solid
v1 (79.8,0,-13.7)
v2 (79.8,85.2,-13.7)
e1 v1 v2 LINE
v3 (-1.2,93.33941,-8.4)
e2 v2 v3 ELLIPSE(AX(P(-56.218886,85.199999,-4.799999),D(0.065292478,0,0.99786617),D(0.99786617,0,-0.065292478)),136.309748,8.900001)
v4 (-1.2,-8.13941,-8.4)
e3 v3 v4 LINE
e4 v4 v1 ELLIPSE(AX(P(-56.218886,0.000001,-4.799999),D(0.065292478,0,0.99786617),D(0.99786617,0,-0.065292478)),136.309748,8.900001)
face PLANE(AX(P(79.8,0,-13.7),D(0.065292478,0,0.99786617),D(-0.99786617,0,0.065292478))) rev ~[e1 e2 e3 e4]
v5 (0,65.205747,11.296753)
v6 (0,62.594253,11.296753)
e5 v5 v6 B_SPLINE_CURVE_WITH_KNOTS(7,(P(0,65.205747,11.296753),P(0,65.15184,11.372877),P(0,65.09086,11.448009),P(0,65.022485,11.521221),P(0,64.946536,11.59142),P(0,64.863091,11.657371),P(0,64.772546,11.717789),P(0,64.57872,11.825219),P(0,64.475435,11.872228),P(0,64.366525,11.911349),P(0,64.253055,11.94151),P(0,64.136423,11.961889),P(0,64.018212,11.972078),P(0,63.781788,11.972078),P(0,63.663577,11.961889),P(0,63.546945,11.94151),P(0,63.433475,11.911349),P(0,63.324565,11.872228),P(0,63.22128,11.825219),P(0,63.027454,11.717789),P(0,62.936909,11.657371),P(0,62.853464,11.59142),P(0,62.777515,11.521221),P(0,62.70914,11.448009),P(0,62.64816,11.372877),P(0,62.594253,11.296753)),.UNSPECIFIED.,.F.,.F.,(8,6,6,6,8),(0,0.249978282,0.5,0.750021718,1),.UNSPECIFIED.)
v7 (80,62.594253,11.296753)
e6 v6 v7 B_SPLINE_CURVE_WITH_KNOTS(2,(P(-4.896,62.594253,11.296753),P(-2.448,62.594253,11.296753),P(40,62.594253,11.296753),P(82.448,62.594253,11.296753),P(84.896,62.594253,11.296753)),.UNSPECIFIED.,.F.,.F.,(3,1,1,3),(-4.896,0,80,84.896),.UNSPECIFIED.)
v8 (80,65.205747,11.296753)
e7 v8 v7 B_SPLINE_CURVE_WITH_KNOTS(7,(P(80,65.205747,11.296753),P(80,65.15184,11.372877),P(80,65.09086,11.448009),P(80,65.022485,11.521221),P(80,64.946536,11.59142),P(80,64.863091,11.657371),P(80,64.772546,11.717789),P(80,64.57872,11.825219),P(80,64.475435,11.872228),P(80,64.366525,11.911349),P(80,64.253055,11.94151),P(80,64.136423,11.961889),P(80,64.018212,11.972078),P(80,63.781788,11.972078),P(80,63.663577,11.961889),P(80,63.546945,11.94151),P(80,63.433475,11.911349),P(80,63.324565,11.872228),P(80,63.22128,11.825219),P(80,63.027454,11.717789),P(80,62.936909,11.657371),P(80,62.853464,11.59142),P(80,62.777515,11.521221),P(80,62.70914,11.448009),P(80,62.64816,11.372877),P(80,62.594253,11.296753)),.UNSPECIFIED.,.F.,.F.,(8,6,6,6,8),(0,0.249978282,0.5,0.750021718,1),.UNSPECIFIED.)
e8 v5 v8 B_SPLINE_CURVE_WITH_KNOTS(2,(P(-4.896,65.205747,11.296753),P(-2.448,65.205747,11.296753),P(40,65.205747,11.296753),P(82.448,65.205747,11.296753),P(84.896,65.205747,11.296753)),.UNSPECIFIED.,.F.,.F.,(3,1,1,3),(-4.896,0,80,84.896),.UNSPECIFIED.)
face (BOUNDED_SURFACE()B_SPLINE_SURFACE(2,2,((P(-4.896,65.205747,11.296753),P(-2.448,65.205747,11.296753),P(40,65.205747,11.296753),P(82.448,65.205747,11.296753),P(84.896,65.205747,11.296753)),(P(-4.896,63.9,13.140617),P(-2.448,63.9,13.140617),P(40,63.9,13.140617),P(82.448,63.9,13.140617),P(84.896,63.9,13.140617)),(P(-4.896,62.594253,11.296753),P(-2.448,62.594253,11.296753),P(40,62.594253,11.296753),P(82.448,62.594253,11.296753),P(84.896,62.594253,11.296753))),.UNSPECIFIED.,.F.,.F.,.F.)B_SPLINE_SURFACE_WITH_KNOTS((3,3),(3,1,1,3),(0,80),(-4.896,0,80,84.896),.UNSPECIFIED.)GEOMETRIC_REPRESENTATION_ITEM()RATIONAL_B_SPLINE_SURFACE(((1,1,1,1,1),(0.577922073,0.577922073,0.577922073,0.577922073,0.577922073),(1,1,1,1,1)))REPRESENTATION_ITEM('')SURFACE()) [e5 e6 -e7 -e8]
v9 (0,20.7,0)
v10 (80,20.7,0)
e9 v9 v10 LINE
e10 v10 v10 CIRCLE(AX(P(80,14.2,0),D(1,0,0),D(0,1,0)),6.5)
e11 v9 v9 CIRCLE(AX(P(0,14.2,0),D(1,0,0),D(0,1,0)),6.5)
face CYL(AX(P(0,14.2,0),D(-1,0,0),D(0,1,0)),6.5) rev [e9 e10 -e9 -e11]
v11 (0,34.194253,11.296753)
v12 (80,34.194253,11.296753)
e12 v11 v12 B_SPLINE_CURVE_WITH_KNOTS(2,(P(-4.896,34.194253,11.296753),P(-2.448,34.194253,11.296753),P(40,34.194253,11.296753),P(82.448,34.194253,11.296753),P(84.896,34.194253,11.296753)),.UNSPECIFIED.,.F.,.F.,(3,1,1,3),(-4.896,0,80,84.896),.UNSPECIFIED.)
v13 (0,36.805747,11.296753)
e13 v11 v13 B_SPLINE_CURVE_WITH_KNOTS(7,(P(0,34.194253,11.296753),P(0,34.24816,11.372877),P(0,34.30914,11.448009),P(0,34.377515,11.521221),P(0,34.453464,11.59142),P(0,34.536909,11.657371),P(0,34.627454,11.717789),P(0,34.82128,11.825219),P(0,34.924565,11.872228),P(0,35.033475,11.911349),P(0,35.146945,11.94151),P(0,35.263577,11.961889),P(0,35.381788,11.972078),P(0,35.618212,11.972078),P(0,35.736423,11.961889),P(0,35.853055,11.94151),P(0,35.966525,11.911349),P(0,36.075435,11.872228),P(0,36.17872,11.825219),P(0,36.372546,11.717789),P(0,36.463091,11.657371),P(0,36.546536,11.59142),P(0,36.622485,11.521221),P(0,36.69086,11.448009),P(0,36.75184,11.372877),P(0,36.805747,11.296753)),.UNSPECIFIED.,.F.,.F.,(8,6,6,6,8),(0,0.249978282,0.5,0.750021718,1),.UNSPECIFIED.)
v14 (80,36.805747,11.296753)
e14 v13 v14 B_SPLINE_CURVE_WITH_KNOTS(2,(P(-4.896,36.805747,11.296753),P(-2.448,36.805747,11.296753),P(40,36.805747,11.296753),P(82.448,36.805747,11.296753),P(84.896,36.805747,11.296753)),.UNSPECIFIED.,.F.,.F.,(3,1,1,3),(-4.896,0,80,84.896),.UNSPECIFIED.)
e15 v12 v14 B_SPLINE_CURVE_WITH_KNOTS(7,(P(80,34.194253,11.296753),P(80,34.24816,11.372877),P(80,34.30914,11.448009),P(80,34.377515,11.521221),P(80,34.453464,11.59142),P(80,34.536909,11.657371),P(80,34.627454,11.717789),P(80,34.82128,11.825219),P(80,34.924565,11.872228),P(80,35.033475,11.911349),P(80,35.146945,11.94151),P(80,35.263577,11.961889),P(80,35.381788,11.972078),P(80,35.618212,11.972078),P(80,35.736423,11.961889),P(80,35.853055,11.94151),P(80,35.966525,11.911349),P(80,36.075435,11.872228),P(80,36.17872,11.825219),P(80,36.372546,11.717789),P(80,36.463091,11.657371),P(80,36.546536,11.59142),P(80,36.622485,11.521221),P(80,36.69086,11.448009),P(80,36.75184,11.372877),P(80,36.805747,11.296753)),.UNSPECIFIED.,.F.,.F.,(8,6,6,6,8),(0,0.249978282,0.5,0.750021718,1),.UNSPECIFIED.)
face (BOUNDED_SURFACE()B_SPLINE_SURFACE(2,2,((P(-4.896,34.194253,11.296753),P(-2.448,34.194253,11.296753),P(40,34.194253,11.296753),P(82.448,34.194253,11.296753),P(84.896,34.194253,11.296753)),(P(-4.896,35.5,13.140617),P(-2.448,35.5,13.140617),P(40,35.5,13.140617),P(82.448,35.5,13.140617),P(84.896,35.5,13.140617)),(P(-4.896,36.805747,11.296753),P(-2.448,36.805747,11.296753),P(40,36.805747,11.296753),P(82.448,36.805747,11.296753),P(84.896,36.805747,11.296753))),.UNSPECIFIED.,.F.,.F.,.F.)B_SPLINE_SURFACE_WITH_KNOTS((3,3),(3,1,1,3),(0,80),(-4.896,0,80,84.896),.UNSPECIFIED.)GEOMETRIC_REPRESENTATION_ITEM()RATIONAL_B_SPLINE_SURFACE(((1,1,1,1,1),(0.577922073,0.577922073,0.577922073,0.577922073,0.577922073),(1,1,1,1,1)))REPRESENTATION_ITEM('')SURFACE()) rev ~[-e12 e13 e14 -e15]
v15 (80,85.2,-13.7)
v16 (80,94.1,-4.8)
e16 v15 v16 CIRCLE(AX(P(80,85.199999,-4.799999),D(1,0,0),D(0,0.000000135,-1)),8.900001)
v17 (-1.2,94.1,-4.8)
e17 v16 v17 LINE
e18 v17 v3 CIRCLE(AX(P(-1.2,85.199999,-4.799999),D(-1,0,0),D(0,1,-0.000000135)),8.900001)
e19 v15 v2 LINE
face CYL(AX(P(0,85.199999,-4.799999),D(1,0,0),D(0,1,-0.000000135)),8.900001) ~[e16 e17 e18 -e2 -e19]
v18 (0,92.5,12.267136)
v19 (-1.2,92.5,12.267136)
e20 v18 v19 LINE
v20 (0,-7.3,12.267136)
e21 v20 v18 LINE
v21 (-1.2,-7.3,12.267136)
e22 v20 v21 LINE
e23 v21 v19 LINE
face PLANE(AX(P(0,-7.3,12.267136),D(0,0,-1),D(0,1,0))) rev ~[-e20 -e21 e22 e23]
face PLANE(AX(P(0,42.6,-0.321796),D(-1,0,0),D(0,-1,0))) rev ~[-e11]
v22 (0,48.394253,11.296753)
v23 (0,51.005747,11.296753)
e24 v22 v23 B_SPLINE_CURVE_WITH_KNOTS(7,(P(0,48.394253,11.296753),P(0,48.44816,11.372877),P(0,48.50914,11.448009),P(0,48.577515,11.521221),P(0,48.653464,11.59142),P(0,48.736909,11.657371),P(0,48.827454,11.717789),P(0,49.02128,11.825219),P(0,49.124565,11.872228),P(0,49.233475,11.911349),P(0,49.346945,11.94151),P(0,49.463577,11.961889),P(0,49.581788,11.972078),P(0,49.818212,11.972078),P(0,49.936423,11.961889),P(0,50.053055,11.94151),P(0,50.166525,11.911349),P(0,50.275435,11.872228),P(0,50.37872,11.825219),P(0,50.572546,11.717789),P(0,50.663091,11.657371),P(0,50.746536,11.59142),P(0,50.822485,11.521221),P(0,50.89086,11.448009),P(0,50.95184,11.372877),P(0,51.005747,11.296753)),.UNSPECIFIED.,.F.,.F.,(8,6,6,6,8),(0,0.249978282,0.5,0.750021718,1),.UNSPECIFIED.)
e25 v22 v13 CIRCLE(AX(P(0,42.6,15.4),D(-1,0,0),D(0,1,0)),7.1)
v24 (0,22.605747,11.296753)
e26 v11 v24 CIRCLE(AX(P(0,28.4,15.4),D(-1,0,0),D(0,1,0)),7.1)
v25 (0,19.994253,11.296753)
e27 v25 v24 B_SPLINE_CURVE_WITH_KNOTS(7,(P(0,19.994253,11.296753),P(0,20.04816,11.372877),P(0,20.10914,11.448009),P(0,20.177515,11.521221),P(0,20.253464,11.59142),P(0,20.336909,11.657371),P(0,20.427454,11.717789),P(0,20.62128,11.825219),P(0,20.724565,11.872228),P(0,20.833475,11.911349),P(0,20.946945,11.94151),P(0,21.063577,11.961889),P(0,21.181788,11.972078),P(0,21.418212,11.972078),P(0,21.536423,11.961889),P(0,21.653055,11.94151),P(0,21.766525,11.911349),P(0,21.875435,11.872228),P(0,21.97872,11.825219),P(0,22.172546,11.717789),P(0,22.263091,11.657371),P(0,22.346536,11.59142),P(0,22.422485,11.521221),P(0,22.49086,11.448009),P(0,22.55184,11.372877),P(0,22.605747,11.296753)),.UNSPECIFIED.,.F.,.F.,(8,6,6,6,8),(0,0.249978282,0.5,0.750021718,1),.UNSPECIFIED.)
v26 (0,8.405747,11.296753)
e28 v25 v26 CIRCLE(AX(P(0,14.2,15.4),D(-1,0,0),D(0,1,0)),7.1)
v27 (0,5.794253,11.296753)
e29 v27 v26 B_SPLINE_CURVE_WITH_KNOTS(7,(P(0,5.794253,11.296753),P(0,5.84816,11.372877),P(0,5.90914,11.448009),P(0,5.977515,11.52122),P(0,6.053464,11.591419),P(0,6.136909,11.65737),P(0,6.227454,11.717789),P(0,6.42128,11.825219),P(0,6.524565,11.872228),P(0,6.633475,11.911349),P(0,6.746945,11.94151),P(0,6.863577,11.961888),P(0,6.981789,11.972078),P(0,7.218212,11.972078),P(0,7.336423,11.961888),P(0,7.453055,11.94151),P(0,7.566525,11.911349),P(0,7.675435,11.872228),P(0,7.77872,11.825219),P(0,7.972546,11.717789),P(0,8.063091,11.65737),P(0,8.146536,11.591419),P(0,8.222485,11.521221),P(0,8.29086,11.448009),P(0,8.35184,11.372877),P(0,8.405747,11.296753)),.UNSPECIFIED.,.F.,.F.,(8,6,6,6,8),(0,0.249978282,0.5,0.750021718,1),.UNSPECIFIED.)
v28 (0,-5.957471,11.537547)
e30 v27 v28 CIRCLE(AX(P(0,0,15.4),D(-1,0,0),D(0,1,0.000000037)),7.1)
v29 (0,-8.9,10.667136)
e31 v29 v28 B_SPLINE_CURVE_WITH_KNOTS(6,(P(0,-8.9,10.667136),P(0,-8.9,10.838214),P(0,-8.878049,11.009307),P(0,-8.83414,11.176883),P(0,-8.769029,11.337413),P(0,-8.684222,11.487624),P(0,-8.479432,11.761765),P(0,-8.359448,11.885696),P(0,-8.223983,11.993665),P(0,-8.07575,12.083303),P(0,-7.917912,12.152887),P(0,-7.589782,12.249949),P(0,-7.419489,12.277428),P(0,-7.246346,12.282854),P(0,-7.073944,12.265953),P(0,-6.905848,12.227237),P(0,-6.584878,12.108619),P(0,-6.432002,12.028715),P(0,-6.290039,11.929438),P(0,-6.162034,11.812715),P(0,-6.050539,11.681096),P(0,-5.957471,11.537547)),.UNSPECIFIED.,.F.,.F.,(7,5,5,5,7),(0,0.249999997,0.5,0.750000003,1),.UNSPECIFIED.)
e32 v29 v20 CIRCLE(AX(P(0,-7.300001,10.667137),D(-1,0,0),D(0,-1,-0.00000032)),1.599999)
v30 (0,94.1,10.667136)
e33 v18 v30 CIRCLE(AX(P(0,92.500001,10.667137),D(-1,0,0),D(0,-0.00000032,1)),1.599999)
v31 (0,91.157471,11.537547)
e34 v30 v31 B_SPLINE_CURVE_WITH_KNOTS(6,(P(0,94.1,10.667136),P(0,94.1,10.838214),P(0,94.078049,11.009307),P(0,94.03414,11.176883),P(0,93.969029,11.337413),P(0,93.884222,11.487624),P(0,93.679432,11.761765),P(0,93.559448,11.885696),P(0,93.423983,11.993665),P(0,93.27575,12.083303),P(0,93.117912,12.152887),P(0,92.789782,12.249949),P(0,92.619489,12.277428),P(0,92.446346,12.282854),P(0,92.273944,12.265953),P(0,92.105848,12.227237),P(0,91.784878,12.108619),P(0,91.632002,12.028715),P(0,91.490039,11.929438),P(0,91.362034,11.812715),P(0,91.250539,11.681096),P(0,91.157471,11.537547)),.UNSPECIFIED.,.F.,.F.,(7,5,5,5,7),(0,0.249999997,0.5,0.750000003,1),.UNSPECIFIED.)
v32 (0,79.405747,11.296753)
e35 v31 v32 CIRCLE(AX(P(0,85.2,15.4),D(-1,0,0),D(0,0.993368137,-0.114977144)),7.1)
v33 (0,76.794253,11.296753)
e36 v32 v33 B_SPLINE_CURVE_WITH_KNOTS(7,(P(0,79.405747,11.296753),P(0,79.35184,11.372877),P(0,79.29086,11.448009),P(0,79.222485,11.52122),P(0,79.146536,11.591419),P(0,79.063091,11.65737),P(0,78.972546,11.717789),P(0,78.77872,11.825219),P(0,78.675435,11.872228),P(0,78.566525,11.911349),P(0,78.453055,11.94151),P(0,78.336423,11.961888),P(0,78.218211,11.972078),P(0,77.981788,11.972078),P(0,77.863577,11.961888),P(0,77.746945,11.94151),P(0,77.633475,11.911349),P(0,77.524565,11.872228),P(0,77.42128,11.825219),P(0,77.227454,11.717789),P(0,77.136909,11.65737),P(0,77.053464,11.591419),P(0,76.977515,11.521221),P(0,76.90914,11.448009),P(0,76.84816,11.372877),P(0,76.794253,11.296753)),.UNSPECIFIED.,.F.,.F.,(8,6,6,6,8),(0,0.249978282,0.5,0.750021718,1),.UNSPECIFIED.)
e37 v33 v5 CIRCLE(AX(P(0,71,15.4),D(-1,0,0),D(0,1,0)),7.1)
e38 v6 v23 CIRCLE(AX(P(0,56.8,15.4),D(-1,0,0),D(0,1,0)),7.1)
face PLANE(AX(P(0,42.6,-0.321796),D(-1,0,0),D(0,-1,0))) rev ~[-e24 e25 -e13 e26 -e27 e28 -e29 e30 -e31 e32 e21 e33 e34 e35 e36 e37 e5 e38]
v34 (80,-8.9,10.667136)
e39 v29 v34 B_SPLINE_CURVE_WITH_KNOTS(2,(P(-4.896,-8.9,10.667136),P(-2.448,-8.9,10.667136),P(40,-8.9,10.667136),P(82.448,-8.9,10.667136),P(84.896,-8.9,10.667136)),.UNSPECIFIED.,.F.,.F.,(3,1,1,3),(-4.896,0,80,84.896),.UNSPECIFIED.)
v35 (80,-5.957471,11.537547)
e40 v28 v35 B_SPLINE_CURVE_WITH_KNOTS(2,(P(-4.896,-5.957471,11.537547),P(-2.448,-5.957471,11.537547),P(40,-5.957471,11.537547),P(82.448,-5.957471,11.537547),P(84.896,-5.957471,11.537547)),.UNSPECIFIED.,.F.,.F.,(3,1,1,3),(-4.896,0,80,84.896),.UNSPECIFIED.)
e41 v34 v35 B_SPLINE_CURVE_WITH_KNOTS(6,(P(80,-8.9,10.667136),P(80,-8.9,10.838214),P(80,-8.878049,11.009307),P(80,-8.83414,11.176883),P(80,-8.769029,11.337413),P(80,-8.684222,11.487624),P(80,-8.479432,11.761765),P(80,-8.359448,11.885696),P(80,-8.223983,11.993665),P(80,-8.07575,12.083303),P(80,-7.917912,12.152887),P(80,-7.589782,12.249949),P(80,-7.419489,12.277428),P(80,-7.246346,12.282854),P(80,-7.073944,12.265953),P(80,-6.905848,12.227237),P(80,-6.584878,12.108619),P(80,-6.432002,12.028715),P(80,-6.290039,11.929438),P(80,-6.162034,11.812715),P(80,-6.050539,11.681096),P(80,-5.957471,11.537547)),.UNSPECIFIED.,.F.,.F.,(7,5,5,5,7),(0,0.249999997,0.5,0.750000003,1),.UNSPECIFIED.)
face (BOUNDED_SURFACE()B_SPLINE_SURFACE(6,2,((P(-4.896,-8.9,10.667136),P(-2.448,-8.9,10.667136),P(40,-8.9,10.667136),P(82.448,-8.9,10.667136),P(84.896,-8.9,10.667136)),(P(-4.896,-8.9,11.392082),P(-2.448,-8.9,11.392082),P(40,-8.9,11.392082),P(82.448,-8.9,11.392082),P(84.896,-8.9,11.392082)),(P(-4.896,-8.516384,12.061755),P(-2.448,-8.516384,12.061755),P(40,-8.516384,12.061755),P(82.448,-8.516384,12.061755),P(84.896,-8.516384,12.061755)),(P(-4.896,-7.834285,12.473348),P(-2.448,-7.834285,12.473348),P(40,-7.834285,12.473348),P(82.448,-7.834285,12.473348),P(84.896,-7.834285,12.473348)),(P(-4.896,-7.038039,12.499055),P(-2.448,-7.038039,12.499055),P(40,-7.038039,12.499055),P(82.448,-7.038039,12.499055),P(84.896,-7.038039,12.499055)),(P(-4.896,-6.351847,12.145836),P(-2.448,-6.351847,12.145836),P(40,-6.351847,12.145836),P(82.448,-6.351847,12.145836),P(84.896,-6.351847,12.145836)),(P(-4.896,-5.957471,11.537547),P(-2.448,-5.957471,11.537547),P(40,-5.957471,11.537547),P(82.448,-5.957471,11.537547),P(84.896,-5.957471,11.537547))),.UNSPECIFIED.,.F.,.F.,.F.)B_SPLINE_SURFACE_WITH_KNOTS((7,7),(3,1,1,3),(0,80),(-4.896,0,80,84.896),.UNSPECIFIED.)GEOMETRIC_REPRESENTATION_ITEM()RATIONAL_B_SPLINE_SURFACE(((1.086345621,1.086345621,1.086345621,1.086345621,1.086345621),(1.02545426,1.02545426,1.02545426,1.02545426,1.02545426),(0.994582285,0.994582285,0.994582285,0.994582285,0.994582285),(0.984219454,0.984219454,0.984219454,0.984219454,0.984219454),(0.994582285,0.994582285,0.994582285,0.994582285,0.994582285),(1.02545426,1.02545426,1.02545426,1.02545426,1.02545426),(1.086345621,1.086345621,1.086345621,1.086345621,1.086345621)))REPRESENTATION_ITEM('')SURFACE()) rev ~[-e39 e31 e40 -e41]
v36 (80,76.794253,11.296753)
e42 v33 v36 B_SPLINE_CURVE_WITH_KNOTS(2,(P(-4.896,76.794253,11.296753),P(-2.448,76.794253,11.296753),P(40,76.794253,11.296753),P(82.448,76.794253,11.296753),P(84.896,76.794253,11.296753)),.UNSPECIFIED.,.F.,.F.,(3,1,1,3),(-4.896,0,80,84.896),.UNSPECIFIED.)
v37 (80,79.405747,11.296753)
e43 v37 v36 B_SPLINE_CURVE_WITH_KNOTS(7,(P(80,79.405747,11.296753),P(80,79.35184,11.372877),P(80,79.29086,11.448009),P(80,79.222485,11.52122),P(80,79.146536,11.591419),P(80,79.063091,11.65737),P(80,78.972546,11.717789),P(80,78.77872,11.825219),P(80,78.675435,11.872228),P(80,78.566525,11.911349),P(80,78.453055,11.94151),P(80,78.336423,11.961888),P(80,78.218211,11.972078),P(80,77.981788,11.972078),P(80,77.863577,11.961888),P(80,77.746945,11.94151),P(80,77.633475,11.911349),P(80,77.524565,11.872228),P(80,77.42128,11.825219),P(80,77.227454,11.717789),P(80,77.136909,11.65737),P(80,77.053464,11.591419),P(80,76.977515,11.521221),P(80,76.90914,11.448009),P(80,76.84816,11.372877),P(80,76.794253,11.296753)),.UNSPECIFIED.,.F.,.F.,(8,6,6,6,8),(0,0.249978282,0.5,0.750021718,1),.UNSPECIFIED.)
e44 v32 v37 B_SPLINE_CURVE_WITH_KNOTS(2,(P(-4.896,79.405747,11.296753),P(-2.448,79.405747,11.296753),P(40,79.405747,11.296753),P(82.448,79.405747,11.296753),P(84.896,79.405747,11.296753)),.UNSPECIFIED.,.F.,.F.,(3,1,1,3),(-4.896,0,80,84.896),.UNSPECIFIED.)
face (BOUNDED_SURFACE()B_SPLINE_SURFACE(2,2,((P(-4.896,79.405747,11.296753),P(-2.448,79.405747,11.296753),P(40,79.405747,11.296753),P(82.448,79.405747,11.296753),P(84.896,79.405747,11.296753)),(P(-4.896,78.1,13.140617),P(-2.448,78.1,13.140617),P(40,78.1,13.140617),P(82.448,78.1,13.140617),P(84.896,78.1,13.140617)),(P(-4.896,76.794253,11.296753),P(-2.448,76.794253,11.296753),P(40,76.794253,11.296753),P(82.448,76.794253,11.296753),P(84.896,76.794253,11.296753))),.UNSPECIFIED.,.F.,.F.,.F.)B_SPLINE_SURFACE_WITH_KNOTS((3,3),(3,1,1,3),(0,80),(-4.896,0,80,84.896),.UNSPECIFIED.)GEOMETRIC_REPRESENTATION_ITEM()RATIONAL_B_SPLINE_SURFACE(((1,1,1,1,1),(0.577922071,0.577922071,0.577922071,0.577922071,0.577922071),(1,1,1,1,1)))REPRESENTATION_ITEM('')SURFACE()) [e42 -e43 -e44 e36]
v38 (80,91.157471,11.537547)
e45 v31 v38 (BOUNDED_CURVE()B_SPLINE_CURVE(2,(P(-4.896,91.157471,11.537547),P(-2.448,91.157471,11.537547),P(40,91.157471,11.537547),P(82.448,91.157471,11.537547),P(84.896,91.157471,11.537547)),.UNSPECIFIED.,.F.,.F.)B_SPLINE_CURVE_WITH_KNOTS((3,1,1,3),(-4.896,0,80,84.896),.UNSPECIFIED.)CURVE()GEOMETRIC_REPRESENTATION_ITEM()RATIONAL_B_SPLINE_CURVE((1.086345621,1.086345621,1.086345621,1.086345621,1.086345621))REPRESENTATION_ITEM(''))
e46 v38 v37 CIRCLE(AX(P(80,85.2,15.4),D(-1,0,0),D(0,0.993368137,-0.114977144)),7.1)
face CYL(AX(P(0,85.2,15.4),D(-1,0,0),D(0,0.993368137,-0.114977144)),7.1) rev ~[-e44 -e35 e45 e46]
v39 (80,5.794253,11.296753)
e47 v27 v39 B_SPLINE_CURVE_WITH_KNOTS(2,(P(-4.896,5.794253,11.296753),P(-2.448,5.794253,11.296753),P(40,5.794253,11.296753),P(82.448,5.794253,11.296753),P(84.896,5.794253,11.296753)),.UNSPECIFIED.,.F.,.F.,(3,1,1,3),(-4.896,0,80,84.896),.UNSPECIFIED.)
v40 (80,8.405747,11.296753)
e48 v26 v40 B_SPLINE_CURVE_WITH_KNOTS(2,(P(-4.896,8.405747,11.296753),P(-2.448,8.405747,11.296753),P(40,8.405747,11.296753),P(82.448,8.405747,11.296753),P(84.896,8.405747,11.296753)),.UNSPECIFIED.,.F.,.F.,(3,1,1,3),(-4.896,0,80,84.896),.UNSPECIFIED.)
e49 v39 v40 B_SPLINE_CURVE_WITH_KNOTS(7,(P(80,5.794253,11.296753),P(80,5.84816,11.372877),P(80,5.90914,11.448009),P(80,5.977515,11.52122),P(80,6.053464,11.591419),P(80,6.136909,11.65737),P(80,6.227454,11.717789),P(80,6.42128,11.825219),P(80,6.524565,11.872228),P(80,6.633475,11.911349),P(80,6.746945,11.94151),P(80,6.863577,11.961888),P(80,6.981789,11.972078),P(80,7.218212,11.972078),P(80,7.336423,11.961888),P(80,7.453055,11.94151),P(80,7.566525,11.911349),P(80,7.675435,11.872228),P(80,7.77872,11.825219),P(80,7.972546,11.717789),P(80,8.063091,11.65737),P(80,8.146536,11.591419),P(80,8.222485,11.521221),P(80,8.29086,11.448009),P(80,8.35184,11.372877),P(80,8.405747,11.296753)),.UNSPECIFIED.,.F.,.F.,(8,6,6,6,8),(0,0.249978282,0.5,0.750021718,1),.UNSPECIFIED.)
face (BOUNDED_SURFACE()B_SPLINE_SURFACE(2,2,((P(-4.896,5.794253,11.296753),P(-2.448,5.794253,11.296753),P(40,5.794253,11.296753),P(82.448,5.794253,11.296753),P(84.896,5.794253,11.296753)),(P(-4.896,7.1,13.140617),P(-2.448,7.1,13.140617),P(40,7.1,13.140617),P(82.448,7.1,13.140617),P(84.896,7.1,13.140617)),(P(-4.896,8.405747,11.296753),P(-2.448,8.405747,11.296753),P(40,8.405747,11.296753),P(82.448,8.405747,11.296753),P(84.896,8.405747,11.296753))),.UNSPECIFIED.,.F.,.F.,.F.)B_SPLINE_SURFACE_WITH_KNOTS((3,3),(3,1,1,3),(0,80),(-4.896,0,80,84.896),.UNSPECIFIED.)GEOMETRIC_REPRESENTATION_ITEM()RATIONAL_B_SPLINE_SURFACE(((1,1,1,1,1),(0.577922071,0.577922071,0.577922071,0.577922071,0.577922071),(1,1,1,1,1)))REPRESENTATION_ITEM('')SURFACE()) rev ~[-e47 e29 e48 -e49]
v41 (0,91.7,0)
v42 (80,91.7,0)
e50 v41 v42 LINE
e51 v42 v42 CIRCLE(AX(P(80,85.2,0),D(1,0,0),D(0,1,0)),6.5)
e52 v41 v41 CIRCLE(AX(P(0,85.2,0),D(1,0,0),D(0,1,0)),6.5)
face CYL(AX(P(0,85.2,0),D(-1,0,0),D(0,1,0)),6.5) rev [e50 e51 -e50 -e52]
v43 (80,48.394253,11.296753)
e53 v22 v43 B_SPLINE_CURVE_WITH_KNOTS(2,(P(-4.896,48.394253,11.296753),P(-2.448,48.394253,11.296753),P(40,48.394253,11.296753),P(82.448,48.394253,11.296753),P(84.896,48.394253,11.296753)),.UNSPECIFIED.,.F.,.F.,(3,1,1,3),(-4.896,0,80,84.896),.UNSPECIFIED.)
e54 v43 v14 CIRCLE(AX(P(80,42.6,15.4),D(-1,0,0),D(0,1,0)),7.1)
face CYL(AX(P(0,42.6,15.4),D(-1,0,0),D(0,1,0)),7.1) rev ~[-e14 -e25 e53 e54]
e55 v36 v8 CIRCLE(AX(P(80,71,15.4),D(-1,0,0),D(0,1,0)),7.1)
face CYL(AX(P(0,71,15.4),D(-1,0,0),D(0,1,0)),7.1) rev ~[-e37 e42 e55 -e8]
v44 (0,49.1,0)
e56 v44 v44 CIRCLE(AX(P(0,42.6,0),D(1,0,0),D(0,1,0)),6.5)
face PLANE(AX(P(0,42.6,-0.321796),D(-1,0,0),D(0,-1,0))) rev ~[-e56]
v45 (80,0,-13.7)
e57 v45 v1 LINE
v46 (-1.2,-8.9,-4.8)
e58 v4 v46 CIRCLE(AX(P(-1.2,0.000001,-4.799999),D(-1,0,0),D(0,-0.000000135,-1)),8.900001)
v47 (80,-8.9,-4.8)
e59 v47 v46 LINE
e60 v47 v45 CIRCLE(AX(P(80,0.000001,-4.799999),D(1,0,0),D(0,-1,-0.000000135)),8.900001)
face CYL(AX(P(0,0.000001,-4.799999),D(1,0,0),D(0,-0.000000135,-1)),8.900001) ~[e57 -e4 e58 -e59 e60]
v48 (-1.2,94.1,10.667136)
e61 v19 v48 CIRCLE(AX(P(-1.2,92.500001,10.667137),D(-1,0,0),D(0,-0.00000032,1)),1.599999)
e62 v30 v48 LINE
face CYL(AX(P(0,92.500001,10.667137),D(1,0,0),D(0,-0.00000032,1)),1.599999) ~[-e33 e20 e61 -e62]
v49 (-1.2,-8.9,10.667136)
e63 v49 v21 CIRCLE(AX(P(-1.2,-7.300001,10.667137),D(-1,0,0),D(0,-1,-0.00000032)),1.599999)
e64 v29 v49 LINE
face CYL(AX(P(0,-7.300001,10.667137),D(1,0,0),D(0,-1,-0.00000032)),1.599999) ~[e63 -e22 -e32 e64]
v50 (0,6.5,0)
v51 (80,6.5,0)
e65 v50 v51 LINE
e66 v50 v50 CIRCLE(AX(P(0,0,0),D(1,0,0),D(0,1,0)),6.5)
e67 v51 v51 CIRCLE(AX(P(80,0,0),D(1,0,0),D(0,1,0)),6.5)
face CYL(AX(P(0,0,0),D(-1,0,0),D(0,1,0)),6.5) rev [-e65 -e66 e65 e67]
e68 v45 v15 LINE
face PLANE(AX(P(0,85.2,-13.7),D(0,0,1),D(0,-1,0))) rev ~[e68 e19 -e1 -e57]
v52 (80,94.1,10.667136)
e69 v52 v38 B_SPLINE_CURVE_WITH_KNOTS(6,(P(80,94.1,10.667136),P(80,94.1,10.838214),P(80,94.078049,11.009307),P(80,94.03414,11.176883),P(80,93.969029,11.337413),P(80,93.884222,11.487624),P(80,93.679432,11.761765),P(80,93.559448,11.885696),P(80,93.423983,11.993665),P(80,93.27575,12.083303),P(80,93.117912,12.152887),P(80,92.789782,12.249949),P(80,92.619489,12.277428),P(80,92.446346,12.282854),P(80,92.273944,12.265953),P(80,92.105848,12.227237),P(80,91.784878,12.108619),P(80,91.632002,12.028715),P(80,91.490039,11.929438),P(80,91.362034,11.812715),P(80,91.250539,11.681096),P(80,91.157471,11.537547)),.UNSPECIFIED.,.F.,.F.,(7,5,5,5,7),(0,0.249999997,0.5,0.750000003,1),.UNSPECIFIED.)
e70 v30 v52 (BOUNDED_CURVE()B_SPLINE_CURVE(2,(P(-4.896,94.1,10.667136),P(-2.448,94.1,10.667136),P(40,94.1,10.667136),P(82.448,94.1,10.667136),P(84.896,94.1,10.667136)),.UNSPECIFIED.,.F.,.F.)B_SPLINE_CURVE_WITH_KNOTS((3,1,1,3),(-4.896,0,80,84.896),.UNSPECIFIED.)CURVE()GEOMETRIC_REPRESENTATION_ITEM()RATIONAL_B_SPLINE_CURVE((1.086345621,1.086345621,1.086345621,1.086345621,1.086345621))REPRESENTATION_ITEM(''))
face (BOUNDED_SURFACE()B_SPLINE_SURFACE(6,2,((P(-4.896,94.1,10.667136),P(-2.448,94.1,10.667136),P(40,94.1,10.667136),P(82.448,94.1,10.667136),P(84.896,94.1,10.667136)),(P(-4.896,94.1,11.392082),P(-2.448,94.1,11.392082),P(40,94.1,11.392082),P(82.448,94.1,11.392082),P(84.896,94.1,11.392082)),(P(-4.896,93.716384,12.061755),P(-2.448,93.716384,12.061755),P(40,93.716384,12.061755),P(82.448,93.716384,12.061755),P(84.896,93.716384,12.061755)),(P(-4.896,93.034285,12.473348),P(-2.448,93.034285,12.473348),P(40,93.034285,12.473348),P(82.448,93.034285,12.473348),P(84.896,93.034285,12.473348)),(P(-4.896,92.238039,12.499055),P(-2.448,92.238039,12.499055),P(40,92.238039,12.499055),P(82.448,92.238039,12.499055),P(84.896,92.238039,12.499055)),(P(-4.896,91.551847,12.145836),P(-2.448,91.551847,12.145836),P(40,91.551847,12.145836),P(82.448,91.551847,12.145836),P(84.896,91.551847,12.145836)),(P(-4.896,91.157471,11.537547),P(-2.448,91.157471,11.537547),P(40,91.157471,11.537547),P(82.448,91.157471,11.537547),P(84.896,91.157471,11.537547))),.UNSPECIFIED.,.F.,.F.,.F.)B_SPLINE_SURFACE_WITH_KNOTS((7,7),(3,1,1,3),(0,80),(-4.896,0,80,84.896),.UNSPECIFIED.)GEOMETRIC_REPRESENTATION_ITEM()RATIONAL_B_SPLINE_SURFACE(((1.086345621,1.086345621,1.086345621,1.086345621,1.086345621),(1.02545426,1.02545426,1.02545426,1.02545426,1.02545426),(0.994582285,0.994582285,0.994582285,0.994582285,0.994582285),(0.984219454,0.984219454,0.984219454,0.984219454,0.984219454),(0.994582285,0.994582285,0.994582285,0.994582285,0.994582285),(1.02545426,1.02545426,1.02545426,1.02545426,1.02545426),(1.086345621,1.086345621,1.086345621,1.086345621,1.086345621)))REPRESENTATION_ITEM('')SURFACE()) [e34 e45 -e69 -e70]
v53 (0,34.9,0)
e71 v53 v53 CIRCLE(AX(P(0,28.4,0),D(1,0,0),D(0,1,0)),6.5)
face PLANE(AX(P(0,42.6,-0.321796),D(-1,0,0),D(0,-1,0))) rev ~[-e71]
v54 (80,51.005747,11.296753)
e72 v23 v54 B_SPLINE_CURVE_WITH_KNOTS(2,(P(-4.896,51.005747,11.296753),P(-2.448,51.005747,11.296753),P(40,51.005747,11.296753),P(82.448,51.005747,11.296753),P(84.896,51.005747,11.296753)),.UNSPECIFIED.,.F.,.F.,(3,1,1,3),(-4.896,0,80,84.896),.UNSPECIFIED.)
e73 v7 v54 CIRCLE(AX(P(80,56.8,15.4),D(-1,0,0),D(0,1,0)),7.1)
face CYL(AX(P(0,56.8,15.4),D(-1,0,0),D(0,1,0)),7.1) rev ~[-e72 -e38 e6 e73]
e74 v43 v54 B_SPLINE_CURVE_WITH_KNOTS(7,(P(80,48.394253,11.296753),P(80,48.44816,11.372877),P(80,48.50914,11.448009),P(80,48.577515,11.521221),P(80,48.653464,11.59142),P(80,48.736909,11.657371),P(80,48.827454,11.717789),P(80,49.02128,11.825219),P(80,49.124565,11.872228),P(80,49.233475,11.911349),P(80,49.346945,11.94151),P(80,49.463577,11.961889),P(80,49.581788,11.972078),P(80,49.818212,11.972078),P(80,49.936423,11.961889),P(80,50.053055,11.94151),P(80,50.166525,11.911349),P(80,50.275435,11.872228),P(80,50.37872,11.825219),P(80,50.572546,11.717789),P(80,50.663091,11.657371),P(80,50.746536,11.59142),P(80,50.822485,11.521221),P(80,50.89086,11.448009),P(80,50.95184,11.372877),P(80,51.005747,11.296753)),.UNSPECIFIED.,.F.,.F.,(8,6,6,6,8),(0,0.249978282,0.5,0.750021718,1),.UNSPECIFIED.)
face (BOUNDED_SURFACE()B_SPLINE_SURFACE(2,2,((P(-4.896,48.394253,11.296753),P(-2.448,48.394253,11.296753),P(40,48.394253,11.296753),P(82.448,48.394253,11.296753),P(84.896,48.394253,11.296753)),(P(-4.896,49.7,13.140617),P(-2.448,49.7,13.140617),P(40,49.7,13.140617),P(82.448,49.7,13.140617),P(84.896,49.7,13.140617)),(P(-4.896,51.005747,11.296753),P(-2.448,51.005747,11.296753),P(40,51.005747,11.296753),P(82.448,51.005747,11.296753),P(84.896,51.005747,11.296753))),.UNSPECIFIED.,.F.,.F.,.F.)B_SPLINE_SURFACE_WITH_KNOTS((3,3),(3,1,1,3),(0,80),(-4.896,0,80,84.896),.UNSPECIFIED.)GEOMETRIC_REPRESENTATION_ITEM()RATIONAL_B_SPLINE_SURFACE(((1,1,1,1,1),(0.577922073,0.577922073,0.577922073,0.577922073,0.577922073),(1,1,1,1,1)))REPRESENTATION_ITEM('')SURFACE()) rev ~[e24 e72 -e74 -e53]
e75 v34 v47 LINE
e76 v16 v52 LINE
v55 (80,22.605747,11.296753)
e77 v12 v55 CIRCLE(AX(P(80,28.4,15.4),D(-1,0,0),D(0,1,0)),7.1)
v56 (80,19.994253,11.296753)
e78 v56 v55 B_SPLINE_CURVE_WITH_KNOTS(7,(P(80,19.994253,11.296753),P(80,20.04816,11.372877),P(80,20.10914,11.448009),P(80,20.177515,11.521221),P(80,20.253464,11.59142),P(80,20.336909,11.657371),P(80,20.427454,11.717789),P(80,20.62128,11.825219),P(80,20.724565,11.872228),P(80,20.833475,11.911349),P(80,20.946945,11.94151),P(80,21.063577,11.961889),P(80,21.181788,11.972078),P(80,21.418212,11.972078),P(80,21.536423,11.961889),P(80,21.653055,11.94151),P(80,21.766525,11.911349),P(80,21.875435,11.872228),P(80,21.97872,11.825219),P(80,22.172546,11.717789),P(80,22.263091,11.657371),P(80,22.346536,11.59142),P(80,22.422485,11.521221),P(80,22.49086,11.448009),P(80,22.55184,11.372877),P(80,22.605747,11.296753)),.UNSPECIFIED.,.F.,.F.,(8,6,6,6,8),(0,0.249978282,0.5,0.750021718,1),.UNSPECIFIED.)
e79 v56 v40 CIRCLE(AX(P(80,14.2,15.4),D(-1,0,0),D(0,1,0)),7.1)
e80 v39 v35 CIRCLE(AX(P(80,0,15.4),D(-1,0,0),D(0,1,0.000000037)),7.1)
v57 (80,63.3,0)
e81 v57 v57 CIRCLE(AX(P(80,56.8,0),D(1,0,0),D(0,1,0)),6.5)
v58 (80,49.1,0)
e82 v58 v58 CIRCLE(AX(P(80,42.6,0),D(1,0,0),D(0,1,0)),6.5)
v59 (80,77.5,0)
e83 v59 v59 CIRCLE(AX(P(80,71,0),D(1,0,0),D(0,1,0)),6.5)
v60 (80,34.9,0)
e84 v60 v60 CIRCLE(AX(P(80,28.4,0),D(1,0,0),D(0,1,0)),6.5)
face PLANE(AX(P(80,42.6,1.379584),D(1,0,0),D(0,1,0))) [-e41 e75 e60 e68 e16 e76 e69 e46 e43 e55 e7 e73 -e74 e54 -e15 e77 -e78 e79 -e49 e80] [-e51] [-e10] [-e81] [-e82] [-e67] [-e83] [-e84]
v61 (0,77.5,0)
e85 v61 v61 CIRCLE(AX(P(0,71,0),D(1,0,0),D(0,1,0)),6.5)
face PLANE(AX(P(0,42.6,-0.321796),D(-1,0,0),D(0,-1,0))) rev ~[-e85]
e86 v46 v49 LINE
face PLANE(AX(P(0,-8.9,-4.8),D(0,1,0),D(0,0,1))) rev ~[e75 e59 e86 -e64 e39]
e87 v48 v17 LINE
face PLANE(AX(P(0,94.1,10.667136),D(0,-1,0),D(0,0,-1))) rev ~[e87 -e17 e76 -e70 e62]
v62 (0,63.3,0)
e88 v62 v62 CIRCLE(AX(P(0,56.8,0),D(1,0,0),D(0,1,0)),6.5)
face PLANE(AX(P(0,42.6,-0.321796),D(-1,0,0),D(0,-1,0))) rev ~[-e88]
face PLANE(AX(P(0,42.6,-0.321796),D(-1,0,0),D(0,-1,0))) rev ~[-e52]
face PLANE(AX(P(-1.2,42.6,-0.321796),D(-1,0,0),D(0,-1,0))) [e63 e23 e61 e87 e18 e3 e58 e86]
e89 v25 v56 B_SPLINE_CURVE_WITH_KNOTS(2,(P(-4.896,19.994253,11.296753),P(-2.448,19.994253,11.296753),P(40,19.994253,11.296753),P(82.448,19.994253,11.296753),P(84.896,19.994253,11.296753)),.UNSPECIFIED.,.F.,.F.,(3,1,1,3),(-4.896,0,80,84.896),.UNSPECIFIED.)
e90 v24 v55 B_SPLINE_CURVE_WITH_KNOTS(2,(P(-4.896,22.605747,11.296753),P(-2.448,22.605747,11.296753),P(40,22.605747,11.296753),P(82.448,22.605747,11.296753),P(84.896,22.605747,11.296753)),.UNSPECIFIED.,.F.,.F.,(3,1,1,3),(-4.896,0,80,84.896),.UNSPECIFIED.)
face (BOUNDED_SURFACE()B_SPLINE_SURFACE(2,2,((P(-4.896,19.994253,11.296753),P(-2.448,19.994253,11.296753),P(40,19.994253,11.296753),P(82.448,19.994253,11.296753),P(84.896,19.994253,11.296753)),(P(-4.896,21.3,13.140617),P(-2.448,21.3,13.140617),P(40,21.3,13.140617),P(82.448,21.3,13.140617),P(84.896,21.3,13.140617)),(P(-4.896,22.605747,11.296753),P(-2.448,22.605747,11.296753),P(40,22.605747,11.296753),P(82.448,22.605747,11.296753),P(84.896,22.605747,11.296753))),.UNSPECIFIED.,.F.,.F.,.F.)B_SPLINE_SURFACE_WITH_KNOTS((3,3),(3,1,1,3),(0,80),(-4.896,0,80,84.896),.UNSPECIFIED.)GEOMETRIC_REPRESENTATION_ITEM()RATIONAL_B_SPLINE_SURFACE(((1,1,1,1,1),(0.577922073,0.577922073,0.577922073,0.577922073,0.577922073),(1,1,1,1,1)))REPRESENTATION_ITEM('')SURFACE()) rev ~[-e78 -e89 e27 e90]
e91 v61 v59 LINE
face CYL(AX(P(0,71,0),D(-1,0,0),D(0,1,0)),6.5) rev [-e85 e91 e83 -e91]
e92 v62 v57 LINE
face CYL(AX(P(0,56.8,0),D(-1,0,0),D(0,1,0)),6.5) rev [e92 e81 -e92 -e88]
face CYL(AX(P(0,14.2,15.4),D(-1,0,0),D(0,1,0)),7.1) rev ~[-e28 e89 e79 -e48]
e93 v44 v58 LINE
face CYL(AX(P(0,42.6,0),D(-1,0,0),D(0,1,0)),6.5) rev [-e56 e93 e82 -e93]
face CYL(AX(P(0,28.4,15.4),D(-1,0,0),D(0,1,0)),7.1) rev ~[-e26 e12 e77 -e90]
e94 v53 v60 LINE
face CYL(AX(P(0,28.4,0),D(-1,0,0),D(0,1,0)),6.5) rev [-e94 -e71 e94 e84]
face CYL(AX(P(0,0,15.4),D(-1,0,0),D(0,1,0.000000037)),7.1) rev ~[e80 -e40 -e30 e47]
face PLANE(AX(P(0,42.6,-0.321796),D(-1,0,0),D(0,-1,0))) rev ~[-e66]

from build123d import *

# Parameters (mm, degrees)
F0_R     = 6.5
F1_DEPTH = 80
F2_R     = 1.6
F4_DEPTH = 1.2
F6_DEPTH = 100


with BuildPart() as f1:
    # F0 (on Right) → F1 (new body)
    with BuildSketch(Plane.YZ):
        with BuildLine():
            ThreePointArc((-8.9, -4.8), (-6.29325, -11.09325), (0, -13.7))
            Line((0, -13.7), (85.2, -13.7))
            ThreePointArc((85.2, -13.7), (91.49325, -11.09325), (94.1, -4.8))
            Line((94.1, -4.8), (94.1, 11))
            ThreePointArc((94.1, 11), (93.611063, 13.015835), (92.252914, 14.583662))
            ThreePointArc((92.252914, 14.583662), (84.791152, 8.311781), (78.1, 15.4))
            ThreePointArc((78.1, 15.4), (71, 8.3), (63.9, 15.4))
            ThreePointArc((63.9, 15.4), (56.8, 8.3), (49.7, 15.4))
            ThreePointArc((49.7, 15.4), (42.6, 8.3), (35.5, 15.4))
            ThreePointArc((35.5, 15.4), (28.4, 8.3), (21.3, 15.4))
            ThreePointArc((21.3, 15.4), (14.2, 8.3), (7.1, 15.4))
            ThreePointArc((7.1, 15.4), (0.408848, 8.311781), (-7.052914, 14.583662))
            ThreePointArc((-7.052914, 14.583662), (-8.411063, 13.015835), (-8.9, 11))
            Line((-8.9, 11), (-8.9, -4.8))
        make_face()
        Circle(F0_R, mode=Mode.SUBTRACT)
        with Locations((14.2, 0)):
            Circle(F0_R, mode=Mode.SUBTRACT)
        with Locations((28.4, 0)):
            Circle(F0_R, mode=Mode.SUBTRACT)
        with Locations((42.6, 0)):
            Circle(F0_R, mode=Mode.SUBTRACT)
        with Locations((56.8, 0)):
            Circle(F0_R, mode=Mode.SUBTRACT)
        with Locations((71, 0)):
            Circle(F0_R, mode=Mode.SUBTRACT)
        with Locations((85.2, 0)):
            Circle(F0_R, mode=Mode.SUBTRACT)
    extrude(amount=F1_DEPTH)

    # F2
    f2_edges = [f1.edges().sort_by_distance(p)[0] for p in [
        (40, 78.1, 15.4),
        (40, 63.9, 15.4),
        (40, 49.7, 15.4),
        (40, 35.5, 15.4),
        (40, 21.3, 15.4),
        (40, 7.1, 15.4),
        (40, 92.252914, 14.583662),
        (40, -7.052914, 14.583662),
    ]]
    fillet(f2_edges, radius=F2_R)

    # F3 (on face) → F4 (join)
    with BuildSketch(Plane(origin=(0, 0, 0), x_dir=(0, -1, 0), z_dir=(-1, 0, 0))):
        with BuildLine():
            ThreePointArc((-92.5, 12.267136), (-93.631371, 11.798507), (-94.1, 10.667136))
            Line((-94.1, 10.667136), (-94.1, -4.8))
            ThreePointArc((-94.1, -4.8), (-91.49325, -11.09325), (-85.2, -13.7))
            Line((-85.2, -13.7), (0, -13.7))
            ThreePointArc((0, -13.7), (6.29325, -11.09325), (8.9, -4.8))
            Line((8.9, -4.8), (8.9, 10.667136))
            ThreePointArc((8.9, 10.667136), (8.431371, 11.798507), (7.3, 12.267136))
            Line((7.3, 12.267136), (-92.5, 12.267136))
        make_face()
    extrude(amount=F4_DEPTH)

    # F5 (on Front) → F6 (cut, symmetric)
    with BuildSketch(Plane.XZ):
        Polygon((79.8, -13.7), (-1.2, -8.4), (-2.687202, -26.329059), (79.8, -25.427904), align=None)
    extrude(amount=F6_DEPTH, both=True, mode=Mode.SUBTRACT)


solid = f1.part
